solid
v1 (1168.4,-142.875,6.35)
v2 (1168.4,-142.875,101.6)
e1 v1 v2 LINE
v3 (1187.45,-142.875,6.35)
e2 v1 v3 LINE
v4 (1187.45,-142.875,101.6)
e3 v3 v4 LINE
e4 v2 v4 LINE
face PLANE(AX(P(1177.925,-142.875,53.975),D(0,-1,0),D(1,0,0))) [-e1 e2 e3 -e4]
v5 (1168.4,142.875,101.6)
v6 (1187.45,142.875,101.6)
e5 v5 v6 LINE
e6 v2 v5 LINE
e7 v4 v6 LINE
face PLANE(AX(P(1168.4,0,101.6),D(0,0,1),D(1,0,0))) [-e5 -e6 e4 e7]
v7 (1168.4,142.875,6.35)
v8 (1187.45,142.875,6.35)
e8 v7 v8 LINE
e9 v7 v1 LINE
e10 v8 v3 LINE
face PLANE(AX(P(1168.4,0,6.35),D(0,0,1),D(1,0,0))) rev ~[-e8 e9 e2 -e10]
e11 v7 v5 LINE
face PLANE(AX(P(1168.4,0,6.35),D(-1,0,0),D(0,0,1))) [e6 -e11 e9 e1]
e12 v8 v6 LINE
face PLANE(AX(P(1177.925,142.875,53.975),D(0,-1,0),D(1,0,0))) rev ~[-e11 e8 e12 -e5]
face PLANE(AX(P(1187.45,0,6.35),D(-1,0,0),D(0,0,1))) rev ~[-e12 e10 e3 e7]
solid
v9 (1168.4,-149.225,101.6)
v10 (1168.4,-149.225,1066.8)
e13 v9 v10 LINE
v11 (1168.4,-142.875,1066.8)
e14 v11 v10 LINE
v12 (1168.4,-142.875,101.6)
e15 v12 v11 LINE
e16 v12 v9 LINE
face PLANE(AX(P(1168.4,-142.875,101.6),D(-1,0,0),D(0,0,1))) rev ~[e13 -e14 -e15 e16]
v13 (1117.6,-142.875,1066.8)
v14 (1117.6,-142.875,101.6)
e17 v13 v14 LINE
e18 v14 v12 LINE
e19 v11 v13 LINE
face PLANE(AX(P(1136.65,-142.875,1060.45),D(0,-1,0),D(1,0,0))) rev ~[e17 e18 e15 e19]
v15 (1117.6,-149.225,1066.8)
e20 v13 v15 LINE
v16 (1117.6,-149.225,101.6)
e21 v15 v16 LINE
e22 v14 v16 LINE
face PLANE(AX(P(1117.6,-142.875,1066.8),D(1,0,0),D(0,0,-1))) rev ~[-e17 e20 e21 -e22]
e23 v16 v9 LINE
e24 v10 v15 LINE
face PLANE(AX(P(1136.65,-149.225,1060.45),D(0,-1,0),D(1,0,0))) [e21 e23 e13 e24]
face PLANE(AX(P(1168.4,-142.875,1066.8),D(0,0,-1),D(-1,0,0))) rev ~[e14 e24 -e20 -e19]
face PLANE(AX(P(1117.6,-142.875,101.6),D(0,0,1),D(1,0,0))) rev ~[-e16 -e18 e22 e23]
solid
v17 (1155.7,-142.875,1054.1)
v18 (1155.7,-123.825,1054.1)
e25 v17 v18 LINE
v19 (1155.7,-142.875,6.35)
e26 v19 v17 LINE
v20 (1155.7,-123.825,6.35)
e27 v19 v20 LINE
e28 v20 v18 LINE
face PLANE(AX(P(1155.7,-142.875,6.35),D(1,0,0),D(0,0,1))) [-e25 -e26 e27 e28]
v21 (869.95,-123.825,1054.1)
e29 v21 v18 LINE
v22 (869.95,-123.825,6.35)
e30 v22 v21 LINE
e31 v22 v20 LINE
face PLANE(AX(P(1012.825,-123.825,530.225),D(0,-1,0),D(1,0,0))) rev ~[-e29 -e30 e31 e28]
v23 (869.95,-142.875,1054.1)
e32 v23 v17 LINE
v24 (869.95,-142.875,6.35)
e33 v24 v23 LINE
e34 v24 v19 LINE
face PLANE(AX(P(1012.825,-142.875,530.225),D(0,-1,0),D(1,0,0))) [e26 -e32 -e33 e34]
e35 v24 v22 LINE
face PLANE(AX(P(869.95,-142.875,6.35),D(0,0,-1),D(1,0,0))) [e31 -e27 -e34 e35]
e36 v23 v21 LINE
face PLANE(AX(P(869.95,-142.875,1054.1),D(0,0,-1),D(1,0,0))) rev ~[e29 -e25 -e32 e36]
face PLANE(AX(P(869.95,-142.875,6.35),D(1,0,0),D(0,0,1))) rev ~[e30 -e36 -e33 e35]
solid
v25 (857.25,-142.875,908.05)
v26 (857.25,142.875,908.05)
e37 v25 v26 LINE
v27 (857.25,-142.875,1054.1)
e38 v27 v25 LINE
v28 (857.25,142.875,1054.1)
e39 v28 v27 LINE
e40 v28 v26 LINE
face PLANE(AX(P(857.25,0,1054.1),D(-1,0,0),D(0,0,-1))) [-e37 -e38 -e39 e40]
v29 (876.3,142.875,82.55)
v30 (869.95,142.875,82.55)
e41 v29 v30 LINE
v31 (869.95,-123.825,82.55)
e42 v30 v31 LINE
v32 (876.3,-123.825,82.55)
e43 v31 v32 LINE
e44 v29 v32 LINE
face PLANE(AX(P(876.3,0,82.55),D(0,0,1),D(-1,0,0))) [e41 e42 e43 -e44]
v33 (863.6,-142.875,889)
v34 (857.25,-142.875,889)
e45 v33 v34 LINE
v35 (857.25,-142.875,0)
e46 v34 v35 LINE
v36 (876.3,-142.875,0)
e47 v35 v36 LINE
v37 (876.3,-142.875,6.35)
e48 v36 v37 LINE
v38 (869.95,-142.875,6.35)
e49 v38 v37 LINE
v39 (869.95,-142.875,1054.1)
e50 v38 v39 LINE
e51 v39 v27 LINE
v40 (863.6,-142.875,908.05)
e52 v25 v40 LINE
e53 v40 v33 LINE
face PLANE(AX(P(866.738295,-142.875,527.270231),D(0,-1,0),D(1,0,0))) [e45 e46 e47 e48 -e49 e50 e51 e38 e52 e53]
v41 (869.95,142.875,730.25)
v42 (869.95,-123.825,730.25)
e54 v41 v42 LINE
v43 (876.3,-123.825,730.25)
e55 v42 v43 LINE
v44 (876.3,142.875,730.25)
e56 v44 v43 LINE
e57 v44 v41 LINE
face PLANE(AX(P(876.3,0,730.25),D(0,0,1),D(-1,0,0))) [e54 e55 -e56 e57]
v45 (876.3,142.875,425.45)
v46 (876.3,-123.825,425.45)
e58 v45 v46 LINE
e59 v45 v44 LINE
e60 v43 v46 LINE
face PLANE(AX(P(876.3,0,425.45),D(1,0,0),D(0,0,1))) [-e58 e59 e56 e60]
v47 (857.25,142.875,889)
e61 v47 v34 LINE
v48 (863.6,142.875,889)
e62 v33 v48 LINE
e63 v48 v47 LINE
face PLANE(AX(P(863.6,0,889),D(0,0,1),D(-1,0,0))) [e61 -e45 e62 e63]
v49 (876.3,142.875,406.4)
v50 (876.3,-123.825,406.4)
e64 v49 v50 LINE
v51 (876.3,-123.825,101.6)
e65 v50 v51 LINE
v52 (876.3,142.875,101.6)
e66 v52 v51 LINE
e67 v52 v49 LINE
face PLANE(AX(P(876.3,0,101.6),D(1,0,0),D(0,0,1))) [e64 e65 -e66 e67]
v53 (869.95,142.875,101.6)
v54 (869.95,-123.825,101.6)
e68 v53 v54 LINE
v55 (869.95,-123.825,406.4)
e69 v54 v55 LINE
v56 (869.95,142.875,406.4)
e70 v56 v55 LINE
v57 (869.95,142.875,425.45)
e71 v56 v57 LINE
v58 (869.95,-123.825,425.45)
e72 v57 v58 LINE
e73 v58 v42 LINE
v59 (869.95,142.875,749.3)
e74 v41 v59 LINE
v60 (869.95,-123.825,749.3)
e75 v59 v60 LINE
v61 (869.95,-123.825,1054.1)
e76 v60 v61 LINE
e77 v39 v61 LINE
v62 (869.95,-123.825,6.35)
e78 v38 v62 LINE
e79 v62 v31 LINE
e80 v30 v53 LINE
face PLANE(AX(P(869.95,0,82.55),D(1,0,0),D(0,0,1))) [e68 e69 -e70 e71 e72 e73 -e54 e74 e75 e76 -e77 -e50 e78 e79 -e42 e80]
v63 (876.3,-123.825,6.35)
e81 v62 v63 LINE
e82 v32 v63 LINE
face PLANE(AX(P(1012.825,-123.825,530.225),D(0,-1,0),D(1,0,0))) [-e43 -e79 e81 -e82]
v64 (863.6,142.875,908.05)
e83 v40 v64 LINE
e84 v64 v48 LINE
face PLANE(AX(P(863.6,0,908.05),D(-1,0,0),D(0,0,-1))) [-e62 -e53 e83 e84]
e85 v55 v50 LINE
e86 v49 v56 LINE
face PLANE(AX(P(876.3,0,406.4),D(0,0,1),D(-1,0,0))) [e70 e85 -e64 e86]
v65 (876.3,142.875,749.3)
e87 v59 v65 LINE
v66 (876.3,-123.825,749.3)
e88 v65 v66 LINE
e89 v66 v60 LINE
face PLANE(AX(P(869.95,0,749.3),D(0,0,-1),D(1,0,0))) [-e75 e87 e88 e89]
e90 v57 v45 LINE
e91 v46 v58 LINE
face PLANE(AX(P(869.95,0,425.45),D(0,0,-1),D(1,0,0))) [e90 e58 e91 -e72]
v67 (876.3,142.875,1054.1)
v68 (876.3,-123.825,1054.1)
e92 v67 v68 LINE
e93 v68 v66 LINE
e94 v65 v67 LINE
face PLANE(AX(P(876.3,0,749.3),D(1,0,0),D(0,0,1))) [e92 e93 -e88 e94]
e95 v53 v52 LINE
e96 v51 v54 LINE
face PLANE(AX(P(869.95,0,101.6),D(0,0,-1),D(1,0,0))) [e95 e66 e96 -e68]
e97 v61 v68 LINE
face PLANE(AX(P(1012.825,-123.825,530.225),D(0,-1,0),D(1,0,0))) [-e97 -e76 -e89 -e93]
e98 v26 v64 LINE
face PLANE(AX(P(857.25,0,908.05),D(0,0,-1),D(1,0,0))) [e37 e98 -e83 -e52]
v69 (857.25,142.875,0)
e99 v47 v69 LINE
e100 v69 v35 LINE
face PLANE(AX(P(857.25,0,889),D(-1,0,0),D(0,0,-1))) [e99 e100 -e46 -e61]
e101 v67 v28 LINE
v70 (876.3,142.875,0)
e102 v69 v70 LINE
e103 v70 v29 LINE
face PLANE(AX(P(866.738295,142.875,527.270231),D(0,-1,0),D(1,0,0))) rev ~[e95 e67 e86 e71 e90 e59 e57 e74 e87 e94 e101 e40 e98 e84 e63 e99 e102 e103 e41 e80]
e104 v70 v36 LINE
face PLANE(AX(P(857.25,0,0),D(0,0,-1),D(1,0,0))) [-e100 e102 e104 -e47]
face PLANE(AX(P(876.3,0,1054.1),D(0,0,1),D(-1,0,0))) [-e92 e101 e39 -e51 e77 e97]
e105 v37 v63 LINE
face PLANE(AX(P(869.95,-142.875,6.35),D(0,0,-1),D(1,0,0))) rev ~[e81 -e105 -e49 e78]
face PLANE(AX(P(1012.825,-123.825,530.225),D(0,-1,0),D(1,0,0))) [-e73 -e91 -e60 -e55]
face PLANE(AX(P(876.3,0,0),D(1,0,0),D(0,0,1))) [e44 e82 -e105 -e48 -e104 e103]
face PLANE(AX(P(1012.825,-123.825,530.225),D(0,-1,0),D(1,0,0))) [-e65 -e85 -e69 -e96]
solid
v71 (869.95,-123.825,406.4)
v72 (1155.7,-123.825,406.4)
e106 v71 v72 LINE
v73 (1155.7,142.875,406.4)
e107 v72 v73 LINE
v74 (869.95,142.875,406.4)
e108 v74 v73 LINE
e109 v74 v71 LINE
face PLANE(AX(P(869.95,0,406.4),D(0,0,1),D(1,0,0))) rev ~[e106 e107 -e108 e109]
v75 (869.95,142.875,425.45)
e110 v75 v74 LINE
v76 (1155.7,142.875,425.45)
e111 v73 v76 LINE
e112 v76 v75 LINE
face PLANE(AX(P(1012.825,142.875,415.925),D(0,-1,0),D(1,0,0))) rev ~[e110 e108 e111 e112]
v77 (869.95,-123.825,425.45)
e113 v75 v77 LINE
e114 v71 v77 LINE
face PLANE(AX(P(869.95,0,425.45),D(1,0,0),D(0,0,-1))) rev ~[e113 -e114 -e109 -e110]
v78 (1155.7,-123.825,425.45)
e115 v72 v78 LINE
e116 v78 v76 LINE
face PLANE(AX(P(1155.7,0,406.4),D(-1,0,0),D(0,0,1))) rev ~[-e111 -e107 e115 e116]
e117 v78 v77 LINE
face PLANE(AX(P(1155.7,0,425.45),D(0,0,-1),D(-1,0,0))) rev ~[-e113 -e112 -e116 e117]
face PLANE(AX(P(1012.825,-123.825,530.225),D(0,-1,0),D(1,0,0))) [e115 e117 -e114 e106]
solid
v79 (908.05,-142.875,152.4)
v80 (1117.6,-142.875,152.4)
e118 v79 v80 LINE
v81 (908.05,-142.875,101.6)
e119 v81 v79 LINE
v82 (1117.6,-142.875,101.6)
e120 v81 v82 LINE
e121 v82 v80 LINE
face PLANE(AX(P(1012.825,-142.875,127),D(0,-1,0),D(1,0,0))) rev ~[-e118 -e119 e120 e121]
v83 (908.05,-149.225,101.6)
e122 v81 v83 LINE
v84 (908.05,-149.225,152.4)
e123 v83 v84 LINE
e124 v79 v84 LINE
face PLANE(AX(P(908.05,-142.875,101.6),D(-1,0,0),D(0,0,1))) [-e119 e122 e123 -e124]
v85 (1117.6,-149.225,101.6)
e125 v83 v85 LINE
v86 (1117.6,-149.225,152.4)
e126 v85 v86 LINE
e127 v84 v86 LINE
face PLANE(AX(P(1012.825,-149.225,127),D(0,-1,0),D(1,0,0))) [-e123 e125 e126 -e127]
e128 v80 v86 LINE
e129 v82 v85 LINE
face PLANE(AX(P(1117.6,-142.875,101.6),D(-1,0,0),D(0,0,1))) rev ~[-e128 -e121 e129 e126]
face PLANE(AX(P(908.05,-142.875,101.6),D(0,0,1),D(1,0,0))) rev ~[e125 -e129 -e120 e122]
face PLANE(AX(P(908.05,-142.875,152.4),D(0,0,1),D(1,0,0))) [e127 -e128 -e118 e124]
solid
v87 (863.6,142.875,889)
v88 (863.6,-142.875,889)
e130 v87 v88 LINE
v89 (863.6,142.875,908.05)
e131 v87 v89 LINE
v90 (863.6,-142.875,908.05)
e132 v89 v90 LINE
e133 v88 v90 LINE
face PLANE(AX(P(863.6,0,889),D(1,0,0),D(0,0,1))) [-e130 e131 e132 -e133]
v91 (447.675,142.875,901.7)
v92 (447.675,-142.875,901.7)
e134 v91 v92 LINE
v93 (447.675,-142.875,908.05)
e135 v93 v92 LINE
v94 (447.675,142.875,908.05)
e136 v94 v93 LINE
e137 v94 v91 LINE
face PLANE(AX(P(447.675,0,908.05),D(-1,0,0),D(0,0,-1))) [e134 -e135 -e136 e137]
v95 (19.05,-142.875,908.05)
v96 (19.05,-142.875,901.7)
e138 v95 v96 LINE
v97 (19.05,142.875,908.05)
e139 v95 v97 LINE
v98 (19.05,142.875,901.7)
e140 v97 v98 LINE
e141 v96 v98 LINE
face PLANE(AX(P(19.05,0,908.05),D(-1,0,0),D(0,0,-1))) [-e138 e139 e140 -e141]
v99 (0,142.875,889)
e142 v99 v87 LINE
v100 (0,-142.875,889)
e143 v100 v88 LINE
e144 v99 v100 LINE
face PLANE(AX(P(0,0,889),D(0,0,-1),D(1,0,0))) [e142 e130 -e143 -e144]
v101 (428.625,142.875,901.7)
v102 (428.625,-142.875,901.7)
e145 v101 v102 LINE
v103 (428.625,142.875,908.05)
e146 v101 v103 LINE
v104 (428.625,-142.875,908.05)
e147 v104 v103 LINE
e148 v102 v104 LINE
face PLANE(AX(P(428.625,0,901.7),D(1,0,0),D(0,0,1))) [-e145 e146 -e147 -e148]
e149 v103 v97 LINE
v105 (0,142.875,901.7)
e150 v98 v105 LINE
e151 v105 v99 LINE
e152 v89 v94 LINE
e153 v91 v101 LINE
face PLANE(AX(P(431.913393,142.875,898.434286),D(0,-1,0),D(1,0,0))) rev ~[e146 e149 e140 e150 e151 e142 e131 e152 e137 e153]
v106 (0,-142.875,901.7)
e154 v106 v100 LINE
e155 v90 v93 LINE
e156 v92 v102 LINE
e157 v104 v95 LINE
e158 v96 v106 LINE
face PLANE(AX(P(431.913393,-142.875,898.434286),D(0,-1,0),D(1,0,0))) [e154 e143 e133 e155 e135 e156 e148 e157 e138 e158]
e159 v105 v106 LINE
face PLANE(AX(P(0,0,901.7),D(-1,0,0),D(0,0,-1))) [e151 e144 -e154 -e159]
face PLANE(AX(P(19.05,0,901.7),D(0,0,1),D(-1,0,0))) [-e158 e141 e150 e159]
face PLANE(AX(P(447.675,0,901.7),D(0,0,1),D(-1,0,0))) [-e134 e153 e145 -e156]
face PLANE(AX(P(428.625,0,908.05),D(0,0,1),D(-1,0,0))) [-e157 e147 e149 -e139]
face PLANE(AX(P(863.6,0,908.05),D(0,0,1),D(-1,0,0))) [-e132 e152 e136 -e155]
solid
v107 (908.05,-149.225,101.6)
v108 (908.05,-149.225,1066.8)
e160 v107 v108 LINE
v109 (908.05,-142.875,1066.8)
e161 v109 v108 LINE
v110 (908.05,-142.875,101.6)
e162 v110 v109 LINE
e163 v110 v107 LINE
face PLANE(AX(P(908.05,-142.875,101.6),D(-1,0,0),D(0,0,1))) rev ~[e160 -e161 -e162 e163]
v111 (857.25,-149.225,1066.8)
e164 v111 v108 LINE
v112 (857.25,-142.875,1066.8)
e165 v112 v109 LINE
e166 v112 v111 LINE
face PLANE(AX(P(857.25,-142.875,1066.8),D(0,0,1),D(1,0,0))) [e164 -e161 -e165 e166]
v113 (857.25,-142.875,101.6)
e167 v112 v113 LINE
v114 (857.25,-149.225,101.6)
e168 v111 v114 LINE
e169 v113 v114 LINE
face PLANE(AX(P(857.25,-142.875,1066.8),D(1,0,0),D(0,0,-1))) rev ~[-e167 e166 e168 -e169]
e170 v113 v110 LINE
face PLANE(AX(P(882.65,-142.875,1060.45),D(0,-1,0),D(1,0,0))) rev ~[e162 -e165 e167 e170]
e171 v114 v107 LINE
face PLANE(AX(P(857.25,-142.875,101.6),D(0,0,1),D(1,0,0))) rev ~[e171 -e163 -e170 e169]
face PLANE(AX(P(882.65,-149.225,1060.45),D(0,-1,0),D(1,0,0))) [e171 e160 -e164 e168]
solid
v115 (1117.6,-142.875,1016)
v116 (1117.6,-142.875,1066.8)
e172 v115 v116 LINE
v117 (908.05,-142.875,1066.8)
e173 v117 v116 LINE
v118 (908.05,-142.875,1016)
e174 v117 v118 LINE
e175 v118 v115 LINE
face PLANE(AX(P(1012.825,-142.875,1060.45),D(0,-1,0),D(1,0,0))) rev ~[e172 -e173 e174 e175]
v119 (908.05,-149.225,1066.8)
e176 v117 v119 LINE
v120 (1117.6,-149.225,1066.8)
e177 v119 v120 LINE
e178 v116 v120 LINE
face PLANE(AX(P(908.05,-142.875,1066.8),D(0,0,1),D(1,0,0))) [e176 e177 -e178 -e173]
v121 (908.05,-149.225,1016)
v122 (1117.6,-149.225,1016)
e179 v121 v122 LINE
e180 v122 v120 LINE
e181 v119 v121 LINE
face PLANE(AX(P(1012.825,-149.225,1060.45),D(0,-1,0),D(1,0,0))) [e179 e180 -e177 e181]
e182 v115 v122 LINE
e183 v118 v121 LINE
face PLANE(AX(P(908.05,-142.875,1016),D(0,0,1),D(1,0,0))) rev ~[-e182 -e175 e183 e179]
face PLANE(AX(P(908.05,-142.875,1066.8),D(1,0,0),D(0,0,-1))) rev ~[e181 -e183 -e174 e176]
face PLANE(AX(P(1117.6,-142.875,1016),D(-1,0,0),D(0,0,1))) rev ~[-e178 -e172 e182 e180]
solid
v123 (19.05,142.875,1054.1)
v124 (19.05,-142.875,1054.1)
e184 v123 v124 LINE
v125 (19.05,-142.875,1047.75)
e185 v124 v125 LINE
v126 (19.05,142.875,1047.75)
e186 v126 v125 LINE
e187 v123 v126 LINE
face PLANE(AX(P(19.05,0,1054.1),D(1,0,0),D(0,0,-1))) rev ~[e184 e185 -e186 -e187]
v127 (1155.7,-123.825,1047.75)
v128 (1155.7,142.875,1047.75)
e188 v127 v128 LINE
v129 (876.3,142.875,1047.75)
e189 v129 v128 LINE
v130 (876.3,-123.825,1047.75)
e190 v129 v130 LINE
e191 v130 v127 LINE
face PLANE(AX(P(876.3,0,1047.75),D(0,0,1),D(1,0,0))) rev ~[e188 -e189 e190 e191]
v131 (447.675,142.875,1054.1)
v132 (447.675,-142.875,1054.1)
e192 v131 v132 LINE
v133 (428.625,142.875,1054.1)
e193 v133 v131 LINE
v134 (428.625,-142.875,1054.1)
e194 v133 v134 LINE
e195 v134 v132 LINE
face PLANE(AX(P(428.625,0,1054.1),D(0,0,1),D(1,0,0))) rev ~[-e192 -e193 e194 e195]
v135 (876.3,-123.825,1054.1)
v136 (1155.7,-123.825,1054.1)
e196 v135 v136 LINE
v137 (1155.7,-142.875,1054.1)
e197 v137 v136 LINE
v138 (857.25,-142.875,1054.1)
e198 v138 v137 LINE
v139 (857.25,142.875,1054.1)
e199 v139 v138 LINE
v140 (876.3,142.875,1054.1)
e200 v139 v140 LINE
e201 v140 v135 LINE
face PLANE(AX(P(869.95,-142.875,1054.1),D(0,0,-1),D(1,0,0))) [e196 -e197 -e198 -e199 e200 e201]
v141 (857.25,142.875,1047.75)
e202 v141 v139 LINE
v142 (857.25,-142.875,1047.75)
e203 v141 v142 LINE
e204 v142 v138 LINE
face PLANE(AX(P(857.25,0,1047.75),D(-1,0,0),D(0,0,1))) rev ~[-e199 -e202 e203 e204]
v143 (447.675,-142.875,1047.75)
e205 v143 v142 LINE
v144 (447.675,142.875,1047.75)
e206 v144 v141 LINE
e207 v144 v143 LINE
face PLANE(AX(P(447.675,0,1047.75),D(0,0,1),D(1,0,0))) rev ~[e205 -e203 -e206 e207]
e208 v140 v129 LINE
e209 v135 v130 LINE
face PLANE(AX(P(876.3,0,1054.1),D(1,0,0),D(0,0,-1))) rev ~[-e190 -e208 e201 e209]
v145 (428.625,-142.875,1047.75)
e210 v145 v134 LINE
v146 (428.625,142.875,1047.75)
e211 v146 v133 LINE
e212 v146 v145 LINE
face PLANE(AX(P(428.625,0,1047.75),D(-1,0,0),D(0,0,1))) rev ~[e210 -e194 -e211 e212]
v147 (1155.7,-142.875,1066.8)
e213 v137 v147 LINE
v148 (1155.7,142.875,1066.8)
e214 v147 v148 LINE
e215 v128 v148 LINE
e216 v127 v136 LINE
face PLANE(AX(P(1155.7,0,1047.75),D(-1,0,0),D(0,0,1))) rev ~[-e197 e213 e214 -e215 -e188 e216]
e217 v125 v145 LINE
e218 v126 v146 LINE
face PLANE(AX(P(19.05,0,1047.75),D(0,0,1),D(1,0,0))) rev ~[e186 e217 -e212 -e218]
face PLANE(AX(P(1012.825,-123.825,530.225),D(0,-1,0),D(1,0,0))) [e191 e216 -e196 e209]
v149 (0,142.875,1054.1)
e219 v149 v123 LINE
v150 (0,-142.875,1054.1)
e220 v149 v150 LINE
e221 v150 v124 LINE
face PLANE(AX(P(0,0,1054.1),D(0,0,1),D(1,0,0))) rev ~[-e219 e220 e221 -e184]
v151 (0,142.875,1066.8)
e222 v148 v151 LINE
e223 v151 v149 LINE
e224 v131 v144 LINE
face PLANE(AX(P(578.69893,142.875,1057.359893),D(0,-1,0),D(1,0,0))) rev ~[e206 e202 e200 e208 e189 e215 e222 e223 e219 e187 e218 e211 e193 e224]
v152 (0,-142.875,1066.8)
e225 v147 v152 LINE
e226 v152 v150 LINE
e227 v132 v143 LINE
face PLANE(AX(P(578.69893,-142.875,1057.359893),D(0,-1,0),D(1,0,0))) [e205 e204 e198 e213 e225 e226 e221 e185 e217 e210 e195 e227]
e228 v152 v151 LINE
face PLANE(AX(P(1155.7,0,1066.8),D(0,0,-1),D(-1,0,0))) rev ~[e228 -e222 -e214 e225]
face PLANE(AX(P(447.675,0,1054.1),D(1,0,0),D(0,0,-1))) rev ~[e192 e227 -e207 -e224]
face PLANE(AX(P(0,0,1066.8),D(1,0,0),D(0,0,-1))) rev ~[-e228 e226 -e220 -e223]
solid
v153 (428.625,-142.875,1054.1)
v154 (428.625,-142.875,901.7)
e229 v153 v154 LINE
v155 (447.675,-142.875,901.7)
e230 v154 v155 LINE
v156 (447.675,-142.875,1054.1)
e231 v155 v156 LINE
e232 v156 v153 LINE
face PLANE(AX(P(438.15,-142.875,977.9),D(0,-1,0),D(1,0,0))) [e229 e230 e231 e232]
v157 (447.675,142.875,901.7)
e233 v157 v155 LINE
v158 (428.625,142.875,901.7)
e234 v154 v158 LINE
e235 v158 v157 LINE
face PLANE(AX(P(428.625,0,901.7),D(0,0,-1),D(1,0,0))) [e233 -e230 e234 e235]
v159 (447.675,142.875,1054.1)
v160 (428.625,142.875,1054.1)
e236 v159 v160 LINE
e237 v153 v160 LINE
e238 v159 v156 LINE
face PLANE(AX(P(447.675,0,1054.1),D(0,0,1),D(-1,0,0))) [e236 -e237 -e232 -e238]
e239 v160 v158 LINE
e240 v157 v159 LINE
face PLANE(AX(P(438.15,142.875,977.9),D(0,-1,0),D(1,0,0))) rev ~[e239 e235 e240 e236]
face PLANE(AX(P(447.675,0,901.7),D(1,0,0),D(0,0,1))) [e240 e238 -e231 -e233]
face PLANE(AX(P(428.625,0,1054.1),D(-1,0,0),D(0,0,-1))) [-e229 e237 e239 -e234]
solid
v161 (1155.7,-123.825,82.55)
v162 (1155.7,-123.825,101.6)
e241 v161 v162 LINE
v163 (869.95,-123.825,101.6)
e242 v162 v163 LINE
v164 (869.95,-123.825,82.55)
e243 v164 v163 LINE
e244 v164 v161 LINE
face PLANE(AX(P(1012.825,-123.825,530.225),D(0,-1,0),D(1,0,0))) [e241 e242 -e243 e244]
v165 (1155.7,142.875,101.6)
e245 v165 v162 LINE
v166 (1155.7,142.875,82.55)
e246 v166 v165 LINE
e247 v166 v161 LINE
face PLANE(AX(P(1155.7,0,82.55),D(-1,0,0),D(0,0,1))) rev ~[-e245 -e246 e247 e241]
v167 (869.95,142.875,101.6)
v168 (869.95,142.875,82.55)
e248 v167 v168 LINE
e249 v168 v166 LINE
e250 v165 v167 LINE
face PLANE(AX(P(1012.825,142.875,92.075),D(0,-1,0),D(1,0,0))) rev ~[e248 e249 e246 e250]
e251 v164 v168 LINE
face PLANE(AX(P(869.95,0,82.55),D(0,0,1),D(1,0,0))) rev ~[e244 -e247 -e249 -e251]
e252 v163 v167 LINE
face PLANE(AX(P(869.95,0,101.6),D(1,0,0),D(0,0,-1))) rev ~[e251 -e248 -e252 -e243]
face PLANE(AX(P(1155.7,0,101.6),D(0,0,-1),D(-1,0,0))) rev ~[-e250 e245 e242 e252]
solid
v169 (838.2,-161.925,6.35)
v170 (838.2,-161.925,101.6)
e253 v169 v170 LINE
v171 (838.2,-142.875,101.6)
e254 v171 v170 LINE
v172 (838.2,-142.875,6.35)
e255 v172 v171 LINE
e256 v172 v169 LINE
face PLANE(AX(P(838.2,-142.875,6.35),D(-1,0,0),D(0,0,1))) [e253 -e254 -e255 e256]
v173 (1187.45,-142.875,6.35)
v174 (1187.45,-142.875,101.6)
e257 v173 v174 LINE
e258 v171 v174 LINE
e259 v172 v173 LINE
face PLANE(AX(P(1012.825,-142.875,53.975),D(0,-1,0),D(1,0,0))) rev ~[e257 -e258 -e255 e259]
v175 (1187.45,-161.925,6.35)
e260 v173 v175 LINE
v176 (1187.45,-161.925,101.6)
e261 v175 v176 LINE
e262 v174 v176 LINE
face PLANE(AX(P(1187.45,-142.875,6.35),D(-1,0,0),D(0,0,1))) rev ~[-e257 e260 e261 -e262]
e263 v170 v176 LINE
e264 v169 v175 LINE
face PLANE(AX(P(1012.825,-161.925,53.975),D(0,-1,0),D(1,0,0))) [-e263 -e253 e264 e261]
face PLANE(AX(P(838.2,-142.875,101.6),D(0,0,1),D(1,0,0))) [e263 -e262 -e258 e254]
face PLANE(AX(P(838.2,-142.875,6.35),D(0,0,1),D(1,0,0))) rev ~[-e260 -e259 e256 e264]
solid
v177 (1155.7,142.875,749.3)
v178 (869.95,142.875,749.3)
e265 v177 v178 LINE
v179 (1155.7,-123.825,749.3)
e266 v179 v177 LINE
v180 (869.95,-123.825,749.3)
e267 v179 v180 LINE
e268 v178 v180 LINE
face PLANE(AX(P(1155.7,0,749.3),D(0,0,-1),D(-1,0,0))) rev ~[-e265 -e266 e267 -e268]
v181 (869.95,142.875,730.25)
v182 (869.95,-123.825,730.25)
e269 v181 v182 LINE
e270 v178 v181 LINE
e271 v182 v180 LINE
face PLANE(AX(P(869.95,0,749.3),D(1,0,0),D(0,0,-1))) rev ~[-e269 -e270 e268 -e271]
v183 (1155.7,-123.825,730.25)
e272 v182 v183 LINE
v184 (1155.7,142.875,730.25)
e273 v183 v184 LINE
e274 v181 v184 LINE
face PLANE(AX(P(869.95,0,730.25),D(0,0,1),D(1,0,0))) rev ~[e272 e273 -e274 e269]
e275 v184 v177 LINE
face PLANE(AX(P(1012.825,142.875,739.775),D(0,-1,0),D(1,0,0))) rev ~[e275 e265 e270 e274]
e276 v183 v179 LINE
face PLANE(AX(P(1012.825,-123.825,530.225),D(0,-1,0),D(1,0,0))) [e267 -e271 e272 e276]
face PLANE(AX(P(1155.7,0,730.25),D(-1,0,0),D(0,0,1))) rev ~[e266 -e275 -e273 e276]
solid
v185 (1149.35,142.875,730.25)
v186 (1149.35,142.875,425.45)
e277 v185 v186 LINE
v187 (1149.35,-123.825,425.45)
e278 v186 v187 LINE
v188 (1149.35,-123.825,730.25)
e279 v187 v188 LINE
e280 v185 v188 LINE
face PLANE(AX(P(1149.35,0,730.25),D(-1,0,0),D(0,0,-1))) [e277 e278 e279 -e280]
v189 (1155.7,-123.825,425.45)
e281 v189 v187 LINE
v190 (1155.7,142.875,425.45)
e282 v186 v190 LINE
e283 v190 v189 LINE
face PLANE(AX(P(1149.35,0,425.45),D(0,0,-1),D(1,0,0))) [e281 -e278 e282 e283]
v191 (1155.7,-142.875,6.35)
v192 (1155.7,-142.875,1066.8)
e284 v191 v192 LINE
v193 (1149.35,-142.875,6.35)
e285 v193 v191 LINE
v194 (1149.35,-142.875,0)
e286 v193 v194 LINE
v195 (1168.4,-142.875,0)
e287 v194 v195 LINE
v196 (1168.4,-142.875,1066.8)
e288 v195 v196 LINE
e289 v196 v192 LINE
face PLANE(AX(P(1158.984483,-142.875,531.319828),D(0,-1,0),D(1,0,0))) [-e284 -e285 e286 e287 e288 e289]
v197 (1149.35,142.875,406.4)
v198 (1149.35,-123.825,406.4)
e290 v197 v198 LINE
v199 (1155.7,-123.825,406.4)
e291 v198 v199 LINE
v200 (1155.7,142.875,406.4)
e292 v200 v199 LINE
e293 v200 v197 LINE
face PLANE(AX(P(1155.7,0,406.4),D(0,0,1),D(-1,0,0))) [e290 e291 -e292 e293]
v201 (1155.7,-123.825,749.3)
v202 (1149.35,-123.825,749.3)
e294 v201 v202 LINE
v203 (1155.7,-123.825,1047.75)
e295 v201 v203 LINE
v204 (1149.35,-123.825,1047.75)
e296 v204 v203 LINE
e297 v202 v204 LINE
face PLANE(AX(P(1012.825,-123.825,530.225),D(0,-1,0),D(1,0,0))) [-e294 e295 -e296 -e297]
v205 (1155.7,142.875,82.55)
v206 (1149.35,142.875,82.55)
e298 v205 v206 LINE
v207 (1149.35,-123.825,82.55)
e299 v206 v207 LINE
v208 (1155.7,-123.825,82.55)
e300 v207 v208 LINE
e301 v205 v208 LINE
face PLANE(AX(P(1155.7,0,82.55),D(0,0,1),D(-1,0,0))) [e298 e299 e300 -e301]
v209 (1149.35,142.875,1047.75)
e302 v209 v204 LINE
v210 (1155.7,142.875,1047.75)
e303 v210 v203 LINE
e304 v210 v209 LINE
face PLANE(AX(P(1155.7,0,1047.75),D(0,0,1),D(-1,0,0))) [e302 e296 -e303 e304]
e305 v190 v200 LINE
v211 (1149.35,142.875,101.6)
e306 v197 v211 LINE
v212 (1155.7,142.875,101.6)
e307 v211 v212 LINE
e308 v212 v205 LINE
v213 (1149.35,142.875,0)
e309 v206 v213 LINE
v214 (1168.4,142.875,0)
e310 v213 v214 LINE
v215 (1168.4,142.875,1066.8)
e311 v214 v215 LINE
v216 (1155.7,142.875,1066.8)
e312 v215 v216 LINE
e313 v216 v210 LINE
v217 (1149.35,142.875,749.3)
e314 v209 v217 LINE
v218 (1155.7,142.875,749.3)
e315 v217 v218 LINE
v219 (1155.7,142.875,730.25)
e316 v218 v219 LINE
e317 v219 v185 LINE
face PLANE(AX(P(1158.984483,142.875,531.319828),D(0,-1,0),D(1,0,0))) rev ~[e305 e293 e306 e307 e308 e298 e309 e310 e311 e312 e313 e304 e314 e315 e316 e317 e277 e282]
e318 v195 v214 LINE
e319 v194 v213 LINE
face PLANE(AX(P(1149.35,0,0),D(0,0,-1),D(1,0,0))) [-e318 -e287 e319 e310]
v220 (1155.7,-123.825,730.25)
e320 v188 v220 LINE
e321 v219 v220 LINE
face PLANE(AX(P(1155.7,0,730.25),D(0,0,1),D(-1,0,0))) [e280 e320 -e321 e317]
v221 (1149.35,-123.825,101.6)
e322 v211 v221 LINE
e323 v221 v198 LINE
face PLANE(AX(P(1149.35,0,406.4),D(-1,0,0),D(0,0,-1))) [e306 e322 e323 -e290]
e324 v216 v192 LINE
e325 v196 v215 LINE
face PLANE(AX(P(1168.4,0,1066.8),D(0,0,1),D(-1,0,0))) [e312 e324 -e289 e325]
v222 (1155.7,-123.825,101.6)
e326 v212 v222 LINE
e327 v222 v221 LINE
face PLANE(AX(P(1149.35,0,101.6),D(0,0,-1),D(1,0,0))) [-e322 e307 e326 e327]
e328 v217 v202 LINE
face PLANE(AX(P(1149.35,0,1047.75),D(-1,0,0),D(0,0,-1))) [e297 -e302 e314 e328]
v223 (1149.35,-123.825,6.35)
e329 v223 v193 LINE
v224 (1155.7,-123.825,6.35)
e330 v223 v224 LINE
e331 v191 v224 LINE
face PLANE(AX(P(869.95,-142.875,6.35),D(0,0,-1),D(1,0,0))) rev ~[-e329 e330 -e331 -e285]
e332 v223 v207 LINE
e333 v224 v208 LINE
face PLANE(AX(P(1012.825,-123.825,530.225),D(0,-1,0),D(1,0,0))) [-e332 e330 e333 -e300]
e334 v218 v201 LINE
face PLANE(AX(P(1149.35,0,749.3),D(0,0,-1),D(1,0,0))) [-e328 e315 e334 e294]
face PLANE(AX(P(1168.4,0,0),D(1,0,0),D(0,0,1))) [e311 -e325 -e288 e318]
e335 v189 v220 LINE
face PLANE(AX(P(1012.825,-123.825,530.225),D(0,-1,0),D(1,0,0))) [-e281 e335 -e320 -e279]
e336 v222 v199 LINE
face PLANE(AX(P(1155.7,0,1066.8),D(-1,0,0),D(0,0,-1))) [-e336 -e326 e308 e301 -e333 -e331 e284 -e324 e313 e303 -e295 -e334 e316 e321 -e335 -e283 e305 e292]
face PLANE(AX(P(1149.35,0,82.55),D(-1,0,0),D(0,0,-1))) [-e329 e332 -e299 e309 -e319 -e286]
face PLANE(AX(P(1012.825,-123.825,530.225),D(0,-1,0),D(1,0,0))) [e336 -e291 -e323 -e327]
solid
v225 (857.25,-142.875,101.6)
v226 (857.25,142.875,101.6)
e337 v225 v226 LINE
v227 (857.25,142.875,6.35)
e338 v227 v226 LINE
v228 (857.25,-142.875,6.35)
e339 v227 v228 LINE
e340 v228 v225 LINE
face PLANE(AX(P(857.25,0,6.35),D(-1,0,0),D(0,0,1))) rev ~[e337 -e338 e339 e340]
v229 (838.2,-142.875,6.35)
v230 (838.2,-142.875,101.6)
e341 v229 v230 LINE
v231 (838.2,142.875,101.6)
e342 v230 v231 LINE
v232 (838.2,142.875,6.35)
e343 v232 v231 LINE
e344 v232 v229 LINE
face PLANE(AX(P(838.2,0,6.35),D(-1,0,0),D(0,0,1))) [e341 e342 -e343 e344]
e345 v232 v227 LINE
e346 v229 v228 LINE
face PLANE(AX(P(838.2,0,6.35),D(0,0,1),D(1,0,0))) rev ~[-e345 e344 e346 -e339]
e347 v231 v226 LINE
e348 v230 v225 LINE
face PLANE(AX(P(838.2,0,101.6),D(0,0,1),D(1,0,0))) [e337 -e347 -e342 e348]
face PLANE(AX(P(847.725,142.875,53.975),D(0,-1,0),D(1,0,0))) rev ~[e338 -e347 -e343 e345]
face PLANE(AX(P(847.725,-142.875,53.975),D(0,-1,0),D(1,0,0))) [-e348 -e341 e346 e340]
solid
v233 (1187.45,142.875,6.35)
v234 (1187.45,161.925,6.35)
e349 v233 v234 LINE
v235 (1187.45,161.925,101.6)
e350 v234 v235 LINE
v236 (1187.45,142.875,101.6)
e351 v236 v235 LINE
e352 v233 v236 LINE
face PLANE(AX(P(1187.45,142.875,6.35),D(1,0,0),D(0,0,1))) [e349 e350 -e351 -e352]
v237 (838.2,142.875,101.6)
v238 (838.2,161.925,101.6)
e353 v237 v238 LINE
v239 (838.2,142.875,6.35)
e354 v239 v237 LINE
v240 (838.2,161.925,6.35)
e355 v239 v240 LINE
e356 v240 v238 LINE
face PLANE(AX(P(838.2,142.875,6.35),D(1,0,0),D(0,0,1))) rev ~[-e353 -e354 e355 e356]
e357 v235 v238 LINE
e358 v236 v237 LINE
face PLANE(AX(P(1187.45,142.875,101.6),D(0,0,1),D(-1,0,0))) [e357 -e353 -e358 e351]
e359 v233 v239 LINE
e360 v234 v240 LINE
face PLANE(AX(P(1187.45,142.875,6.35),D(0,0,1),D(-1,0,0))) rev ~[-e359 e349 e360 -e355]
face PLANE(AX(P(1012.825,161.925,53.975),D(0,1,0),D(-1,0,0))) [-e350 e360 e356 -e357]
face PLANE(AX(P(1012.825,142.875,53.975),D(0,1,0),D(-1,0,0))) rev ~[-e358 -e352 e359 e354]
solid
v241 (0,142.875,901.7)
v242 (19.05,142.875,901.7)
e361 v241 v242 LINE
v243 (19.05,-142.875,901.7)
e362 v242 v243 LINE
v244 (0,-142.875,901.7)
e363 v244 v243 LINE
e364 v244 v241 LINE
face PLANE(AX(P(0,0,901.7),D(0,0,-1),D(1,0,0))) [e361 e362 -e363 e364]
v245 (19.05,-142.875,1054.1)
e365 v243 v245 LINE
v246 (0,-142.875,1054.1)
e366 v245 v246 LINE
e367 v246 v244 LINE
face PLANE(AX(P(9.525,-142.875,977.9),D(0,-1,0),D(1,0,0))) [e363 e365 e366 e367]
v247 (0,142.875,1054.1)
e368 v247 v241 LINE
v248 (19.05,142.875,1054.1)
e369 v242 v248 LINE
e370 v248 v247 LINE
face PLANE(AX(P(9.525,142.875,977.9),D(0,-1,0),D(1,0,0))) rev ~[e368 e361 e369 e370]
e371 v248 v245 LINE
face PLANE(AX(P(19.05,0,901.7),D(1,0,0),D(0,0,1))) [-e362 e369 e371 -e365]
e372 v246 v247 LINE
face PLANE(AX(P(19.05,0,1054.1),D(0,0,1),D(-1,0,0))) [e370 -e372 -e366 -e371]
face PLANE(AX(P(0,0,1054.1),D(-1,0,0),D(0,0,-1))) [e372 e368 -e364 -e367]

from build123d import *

# Parameters (mm, degrees)
F0_W          = 19.05
F0_H          = 95.25
F1_DEPTH      = 142.875
F2_DEPTH      = 142.875
F2_DEPTH_BACK = 142.875
F3_W          = 349.25
F3_H          = 95.25
F4_DEPTH      = 19.05
F5_W          = 349.25
F5_H          = 95.25
F6_DEPTH      = 19.05
F8_W          = 285.75
F8_H          = 1047.75
F9_DEPTH      = 19.05
F10_DEPTH     = 19.05
F11_W         = 209.55
F11_H         = 50.8
F11_H_2       = 12.7
F11_H_3       = 38.1
F12_DEPTH     = 6.35
F11_W_2       = 50.8
F11_W_3       = 38.1
F13_DEPTH     = 6.35


with BuildPart() as f1:
    # F0 (on Front) → F1 (new body, symmetric)
    with BuildSketch(Plane.XZ):
        with Locations((847.725, 53.975)):
            Rectangle(F0_W, F0_H)
        Polygon((869.95, 82.55), (876.3, 82.55), (1149.35, 82.55), (1155.7, 82.55), (1155.7, 101.6), (1149.35, 101.6), (876.3, 101.6), (869.95, 101.6), align=None)
        with Locations((1177.925, 53.975)):
            Rectangle(F0_W, F0_H)
        Polygon((1155.7, 425.45), (1149.35, 425.45), (876.3, 425.45), (869.95, 425.45), (869.95, 406.4), (876.3, 406.4), (1149.35, 406.4), (1155.7, 406.4), align=None)
        Polygon((1155.7, 749.3), (1149.35, 749.3), (876.3, 749.3), (869.95, 749.3), (869.95, 730.25), (876.3, 730.25), (1149.35, 730.25), (1155.7, 730.25), align=None)
        Polygon((0, 1066.8), (0, 1054.1), (19.05, 1054.1), (19.05, 1047.75), (428.625, 1047.75), (428.625, 1054.1), (447.675, 1054.1), (447.675, 1047.75), (857.25, 1047.75), (857.25, 1054.1), (876.3, 1054.1), (876.3, 1047.75), (1149.35, 1047.75), (1155.7, 1047.75), (1155.7, 1066.8), align=None)
        Polygon((19.05, 901.7), (0, 901.7), (0, 889), (857.25, 889), (863.6, 889), (863.6, 908.05), (857.25, 908.05), (447.675, 908.05), (447.675, 901.7), (428.625, 901.7), (428.625, 908.05), (19.05, 908.05), align=None)
    extrude(amount=F1_DEPTH, both=True)


with BuildPart() as f2:
    # F0 (on Front) → F2 (new body, two sides)
    with BuildSketch(Plane.XZ) as f2_sk:
        Polygon((863.6, 889), (857.25, 889), (857.25, 101.6), (857.25, 6.35), (857.25, 0), (876.3, 0), (876.3, 82.55), (869.95, 82.55), (869.95, 101.6), (876.3, 101.6), (876.3, 406.4), (869.95, 406.4), (869.95, 425.45), (876.3, 425.45), (876.3, 730.25), (869.95, 730.25), (869.95, 749.3), (876.3, 749.3), (876.3, 1047.75), (876.3, 1054.1), (857.25, 1054.1), (857.25, 1047.75), (857.25, 908.05), (863.6, 908.05), align=None)
        Polygon((1168.4, 1066.8), (1155.7, 1066.8), (1155.7, 1047.75), (1149.35, 1047.75), (1149.35, 749.3), (1155.7, 749.3), (1155.7, 730.25), (1149.35, 730.25), (1149.35, 425.45), (1155.7, 425.45), (1155.7, 406.4), (1149.35, 406.4), (1149.35, 101.6), (1155.7, 101.6), (1155.7, 82.55), (1149.35, 82.55), (1149.35, 0), (1168.4, 0), (1168.4, 6.35), (1168.4, 101.6), (1168.4, 1047.75), align=None)
        Polygon((428.625, 1047.75), (428.625, 908.05), (428.625, 901.7), (447.675, 901.7), (447.675, 908.05), (447.675, 1047.75), (447.675, 1054.1), (428.625, 1054.1), align=None)
        Polygon((0, 1047.75), (0, 908.05), (0, 901.7), (19.05, 901.7), (19.05, 908.05), (19.05, 1047.75), (19.05, 1054.1), (0, 1054.1), align=None)
    extrude(amount=F2_DEPTH)
    extrude(f2_sk.sketch, amount=-F2_DEPTH_BACK)


with BuildPart() as f4:
    # F3 (on face) → F4 (new body)
    with BuildSketch(Plane.XZ.offset(142.875)):
        with Locations((1012.825, 53.975)):
            Rectangle(F3_W, F3_H)
    extrude(amount=F4_DEPTH)


with BuildPart() as f6:
    # F5 (on face) → F6 (new body)
    with BuildSketch(Plane(origin=(0, 142.875, 0), x_dir=(-1, 0, 0), z_dir=(0, 1, 0))):
        with Locations((-1012.825, 53.975)):
            Rectangle(F5_W, F5_H)
    extrude(amount=F6_DEPTH)


with BuildPart() as f9_tool:
    # F8 (on face) → F9 (new body)
    with BuildSketch(Plane.XZ.offset(142.875)):
        with Locations((1012.825, 530.225)):
            Rectangle(F8_W, F8_H)
    extrude(amount=-F9_DEPTH)


with BuildPart() as f1_1:
    add(f1.part)

    # F9: cut by f9_tool
    add(f9_tool.part, mode=Mode.SUBTRACT)


with BuildPart() as f2_1:
    add(f2.part)

    # F9: cut by f9_tool
    add(f9_tool.part, mode=Mode.SUBTRACT)


with BuildPart() as f10:
    # F8 (on face) → F10 (new body)
    with BuildSketch(Plane.XZ.offset(142.875)):
        with Locations((1012.825, 530.225)):
            Rectangle(F8_W, F8_H)
    extrude(amount=-F10_DEPTH)


with BuildPart() as f12:
    # F11 (on face) → F12 (new body)
    with BuildSketch(Plane.XZ.offset(142.875)):
        with Locations((1012.825, 127)):
            Rectangle(F11_W, F11_H)
        with Locations((1012.825, 1060.45)):
            Rectangle(F11_W, F11_H_2)
        with Locations((1012.825, 1035.05)):
            Rectangle(F11_W, F11_H_3)
    extrude(amount=F12_DEPTH)


with BuildPart() as f13:
    # F11 (on face) → F13 (new body, through all)
    with BuildSketch(Plane.XZ.offset(142.875)):
        with Locations((882.65, 1060.45)):
            Rectangle(F11_W_2, F11_H_2)
        with Locations((1136.65, 1060.45)):
            Rectangle(F11_W_3, F11_H_2)
        Polygon((908.05, 1054.1), (857.25, 1054.1), (857.25, 1047.75), (857.25, 101.6), (908.05, 101.6), (908.05, 152.4), (908.05, 1016), align=None)
        Polygon((1155.7, 1054.1), (1117.6, 1054.1), (1117.6, 1016), (1117.6, 152.4), (1117.6, 101.6), (1168.4, 101.6), (1168.4, 1066.8), (1155.7, 1066.8), align=None)
    extrude(amount=F13_DEPTH)


solid = Compound([f4.part, f6.part, f1_1.part, f2_1.part, f10.part, f12.part, f13.part])
